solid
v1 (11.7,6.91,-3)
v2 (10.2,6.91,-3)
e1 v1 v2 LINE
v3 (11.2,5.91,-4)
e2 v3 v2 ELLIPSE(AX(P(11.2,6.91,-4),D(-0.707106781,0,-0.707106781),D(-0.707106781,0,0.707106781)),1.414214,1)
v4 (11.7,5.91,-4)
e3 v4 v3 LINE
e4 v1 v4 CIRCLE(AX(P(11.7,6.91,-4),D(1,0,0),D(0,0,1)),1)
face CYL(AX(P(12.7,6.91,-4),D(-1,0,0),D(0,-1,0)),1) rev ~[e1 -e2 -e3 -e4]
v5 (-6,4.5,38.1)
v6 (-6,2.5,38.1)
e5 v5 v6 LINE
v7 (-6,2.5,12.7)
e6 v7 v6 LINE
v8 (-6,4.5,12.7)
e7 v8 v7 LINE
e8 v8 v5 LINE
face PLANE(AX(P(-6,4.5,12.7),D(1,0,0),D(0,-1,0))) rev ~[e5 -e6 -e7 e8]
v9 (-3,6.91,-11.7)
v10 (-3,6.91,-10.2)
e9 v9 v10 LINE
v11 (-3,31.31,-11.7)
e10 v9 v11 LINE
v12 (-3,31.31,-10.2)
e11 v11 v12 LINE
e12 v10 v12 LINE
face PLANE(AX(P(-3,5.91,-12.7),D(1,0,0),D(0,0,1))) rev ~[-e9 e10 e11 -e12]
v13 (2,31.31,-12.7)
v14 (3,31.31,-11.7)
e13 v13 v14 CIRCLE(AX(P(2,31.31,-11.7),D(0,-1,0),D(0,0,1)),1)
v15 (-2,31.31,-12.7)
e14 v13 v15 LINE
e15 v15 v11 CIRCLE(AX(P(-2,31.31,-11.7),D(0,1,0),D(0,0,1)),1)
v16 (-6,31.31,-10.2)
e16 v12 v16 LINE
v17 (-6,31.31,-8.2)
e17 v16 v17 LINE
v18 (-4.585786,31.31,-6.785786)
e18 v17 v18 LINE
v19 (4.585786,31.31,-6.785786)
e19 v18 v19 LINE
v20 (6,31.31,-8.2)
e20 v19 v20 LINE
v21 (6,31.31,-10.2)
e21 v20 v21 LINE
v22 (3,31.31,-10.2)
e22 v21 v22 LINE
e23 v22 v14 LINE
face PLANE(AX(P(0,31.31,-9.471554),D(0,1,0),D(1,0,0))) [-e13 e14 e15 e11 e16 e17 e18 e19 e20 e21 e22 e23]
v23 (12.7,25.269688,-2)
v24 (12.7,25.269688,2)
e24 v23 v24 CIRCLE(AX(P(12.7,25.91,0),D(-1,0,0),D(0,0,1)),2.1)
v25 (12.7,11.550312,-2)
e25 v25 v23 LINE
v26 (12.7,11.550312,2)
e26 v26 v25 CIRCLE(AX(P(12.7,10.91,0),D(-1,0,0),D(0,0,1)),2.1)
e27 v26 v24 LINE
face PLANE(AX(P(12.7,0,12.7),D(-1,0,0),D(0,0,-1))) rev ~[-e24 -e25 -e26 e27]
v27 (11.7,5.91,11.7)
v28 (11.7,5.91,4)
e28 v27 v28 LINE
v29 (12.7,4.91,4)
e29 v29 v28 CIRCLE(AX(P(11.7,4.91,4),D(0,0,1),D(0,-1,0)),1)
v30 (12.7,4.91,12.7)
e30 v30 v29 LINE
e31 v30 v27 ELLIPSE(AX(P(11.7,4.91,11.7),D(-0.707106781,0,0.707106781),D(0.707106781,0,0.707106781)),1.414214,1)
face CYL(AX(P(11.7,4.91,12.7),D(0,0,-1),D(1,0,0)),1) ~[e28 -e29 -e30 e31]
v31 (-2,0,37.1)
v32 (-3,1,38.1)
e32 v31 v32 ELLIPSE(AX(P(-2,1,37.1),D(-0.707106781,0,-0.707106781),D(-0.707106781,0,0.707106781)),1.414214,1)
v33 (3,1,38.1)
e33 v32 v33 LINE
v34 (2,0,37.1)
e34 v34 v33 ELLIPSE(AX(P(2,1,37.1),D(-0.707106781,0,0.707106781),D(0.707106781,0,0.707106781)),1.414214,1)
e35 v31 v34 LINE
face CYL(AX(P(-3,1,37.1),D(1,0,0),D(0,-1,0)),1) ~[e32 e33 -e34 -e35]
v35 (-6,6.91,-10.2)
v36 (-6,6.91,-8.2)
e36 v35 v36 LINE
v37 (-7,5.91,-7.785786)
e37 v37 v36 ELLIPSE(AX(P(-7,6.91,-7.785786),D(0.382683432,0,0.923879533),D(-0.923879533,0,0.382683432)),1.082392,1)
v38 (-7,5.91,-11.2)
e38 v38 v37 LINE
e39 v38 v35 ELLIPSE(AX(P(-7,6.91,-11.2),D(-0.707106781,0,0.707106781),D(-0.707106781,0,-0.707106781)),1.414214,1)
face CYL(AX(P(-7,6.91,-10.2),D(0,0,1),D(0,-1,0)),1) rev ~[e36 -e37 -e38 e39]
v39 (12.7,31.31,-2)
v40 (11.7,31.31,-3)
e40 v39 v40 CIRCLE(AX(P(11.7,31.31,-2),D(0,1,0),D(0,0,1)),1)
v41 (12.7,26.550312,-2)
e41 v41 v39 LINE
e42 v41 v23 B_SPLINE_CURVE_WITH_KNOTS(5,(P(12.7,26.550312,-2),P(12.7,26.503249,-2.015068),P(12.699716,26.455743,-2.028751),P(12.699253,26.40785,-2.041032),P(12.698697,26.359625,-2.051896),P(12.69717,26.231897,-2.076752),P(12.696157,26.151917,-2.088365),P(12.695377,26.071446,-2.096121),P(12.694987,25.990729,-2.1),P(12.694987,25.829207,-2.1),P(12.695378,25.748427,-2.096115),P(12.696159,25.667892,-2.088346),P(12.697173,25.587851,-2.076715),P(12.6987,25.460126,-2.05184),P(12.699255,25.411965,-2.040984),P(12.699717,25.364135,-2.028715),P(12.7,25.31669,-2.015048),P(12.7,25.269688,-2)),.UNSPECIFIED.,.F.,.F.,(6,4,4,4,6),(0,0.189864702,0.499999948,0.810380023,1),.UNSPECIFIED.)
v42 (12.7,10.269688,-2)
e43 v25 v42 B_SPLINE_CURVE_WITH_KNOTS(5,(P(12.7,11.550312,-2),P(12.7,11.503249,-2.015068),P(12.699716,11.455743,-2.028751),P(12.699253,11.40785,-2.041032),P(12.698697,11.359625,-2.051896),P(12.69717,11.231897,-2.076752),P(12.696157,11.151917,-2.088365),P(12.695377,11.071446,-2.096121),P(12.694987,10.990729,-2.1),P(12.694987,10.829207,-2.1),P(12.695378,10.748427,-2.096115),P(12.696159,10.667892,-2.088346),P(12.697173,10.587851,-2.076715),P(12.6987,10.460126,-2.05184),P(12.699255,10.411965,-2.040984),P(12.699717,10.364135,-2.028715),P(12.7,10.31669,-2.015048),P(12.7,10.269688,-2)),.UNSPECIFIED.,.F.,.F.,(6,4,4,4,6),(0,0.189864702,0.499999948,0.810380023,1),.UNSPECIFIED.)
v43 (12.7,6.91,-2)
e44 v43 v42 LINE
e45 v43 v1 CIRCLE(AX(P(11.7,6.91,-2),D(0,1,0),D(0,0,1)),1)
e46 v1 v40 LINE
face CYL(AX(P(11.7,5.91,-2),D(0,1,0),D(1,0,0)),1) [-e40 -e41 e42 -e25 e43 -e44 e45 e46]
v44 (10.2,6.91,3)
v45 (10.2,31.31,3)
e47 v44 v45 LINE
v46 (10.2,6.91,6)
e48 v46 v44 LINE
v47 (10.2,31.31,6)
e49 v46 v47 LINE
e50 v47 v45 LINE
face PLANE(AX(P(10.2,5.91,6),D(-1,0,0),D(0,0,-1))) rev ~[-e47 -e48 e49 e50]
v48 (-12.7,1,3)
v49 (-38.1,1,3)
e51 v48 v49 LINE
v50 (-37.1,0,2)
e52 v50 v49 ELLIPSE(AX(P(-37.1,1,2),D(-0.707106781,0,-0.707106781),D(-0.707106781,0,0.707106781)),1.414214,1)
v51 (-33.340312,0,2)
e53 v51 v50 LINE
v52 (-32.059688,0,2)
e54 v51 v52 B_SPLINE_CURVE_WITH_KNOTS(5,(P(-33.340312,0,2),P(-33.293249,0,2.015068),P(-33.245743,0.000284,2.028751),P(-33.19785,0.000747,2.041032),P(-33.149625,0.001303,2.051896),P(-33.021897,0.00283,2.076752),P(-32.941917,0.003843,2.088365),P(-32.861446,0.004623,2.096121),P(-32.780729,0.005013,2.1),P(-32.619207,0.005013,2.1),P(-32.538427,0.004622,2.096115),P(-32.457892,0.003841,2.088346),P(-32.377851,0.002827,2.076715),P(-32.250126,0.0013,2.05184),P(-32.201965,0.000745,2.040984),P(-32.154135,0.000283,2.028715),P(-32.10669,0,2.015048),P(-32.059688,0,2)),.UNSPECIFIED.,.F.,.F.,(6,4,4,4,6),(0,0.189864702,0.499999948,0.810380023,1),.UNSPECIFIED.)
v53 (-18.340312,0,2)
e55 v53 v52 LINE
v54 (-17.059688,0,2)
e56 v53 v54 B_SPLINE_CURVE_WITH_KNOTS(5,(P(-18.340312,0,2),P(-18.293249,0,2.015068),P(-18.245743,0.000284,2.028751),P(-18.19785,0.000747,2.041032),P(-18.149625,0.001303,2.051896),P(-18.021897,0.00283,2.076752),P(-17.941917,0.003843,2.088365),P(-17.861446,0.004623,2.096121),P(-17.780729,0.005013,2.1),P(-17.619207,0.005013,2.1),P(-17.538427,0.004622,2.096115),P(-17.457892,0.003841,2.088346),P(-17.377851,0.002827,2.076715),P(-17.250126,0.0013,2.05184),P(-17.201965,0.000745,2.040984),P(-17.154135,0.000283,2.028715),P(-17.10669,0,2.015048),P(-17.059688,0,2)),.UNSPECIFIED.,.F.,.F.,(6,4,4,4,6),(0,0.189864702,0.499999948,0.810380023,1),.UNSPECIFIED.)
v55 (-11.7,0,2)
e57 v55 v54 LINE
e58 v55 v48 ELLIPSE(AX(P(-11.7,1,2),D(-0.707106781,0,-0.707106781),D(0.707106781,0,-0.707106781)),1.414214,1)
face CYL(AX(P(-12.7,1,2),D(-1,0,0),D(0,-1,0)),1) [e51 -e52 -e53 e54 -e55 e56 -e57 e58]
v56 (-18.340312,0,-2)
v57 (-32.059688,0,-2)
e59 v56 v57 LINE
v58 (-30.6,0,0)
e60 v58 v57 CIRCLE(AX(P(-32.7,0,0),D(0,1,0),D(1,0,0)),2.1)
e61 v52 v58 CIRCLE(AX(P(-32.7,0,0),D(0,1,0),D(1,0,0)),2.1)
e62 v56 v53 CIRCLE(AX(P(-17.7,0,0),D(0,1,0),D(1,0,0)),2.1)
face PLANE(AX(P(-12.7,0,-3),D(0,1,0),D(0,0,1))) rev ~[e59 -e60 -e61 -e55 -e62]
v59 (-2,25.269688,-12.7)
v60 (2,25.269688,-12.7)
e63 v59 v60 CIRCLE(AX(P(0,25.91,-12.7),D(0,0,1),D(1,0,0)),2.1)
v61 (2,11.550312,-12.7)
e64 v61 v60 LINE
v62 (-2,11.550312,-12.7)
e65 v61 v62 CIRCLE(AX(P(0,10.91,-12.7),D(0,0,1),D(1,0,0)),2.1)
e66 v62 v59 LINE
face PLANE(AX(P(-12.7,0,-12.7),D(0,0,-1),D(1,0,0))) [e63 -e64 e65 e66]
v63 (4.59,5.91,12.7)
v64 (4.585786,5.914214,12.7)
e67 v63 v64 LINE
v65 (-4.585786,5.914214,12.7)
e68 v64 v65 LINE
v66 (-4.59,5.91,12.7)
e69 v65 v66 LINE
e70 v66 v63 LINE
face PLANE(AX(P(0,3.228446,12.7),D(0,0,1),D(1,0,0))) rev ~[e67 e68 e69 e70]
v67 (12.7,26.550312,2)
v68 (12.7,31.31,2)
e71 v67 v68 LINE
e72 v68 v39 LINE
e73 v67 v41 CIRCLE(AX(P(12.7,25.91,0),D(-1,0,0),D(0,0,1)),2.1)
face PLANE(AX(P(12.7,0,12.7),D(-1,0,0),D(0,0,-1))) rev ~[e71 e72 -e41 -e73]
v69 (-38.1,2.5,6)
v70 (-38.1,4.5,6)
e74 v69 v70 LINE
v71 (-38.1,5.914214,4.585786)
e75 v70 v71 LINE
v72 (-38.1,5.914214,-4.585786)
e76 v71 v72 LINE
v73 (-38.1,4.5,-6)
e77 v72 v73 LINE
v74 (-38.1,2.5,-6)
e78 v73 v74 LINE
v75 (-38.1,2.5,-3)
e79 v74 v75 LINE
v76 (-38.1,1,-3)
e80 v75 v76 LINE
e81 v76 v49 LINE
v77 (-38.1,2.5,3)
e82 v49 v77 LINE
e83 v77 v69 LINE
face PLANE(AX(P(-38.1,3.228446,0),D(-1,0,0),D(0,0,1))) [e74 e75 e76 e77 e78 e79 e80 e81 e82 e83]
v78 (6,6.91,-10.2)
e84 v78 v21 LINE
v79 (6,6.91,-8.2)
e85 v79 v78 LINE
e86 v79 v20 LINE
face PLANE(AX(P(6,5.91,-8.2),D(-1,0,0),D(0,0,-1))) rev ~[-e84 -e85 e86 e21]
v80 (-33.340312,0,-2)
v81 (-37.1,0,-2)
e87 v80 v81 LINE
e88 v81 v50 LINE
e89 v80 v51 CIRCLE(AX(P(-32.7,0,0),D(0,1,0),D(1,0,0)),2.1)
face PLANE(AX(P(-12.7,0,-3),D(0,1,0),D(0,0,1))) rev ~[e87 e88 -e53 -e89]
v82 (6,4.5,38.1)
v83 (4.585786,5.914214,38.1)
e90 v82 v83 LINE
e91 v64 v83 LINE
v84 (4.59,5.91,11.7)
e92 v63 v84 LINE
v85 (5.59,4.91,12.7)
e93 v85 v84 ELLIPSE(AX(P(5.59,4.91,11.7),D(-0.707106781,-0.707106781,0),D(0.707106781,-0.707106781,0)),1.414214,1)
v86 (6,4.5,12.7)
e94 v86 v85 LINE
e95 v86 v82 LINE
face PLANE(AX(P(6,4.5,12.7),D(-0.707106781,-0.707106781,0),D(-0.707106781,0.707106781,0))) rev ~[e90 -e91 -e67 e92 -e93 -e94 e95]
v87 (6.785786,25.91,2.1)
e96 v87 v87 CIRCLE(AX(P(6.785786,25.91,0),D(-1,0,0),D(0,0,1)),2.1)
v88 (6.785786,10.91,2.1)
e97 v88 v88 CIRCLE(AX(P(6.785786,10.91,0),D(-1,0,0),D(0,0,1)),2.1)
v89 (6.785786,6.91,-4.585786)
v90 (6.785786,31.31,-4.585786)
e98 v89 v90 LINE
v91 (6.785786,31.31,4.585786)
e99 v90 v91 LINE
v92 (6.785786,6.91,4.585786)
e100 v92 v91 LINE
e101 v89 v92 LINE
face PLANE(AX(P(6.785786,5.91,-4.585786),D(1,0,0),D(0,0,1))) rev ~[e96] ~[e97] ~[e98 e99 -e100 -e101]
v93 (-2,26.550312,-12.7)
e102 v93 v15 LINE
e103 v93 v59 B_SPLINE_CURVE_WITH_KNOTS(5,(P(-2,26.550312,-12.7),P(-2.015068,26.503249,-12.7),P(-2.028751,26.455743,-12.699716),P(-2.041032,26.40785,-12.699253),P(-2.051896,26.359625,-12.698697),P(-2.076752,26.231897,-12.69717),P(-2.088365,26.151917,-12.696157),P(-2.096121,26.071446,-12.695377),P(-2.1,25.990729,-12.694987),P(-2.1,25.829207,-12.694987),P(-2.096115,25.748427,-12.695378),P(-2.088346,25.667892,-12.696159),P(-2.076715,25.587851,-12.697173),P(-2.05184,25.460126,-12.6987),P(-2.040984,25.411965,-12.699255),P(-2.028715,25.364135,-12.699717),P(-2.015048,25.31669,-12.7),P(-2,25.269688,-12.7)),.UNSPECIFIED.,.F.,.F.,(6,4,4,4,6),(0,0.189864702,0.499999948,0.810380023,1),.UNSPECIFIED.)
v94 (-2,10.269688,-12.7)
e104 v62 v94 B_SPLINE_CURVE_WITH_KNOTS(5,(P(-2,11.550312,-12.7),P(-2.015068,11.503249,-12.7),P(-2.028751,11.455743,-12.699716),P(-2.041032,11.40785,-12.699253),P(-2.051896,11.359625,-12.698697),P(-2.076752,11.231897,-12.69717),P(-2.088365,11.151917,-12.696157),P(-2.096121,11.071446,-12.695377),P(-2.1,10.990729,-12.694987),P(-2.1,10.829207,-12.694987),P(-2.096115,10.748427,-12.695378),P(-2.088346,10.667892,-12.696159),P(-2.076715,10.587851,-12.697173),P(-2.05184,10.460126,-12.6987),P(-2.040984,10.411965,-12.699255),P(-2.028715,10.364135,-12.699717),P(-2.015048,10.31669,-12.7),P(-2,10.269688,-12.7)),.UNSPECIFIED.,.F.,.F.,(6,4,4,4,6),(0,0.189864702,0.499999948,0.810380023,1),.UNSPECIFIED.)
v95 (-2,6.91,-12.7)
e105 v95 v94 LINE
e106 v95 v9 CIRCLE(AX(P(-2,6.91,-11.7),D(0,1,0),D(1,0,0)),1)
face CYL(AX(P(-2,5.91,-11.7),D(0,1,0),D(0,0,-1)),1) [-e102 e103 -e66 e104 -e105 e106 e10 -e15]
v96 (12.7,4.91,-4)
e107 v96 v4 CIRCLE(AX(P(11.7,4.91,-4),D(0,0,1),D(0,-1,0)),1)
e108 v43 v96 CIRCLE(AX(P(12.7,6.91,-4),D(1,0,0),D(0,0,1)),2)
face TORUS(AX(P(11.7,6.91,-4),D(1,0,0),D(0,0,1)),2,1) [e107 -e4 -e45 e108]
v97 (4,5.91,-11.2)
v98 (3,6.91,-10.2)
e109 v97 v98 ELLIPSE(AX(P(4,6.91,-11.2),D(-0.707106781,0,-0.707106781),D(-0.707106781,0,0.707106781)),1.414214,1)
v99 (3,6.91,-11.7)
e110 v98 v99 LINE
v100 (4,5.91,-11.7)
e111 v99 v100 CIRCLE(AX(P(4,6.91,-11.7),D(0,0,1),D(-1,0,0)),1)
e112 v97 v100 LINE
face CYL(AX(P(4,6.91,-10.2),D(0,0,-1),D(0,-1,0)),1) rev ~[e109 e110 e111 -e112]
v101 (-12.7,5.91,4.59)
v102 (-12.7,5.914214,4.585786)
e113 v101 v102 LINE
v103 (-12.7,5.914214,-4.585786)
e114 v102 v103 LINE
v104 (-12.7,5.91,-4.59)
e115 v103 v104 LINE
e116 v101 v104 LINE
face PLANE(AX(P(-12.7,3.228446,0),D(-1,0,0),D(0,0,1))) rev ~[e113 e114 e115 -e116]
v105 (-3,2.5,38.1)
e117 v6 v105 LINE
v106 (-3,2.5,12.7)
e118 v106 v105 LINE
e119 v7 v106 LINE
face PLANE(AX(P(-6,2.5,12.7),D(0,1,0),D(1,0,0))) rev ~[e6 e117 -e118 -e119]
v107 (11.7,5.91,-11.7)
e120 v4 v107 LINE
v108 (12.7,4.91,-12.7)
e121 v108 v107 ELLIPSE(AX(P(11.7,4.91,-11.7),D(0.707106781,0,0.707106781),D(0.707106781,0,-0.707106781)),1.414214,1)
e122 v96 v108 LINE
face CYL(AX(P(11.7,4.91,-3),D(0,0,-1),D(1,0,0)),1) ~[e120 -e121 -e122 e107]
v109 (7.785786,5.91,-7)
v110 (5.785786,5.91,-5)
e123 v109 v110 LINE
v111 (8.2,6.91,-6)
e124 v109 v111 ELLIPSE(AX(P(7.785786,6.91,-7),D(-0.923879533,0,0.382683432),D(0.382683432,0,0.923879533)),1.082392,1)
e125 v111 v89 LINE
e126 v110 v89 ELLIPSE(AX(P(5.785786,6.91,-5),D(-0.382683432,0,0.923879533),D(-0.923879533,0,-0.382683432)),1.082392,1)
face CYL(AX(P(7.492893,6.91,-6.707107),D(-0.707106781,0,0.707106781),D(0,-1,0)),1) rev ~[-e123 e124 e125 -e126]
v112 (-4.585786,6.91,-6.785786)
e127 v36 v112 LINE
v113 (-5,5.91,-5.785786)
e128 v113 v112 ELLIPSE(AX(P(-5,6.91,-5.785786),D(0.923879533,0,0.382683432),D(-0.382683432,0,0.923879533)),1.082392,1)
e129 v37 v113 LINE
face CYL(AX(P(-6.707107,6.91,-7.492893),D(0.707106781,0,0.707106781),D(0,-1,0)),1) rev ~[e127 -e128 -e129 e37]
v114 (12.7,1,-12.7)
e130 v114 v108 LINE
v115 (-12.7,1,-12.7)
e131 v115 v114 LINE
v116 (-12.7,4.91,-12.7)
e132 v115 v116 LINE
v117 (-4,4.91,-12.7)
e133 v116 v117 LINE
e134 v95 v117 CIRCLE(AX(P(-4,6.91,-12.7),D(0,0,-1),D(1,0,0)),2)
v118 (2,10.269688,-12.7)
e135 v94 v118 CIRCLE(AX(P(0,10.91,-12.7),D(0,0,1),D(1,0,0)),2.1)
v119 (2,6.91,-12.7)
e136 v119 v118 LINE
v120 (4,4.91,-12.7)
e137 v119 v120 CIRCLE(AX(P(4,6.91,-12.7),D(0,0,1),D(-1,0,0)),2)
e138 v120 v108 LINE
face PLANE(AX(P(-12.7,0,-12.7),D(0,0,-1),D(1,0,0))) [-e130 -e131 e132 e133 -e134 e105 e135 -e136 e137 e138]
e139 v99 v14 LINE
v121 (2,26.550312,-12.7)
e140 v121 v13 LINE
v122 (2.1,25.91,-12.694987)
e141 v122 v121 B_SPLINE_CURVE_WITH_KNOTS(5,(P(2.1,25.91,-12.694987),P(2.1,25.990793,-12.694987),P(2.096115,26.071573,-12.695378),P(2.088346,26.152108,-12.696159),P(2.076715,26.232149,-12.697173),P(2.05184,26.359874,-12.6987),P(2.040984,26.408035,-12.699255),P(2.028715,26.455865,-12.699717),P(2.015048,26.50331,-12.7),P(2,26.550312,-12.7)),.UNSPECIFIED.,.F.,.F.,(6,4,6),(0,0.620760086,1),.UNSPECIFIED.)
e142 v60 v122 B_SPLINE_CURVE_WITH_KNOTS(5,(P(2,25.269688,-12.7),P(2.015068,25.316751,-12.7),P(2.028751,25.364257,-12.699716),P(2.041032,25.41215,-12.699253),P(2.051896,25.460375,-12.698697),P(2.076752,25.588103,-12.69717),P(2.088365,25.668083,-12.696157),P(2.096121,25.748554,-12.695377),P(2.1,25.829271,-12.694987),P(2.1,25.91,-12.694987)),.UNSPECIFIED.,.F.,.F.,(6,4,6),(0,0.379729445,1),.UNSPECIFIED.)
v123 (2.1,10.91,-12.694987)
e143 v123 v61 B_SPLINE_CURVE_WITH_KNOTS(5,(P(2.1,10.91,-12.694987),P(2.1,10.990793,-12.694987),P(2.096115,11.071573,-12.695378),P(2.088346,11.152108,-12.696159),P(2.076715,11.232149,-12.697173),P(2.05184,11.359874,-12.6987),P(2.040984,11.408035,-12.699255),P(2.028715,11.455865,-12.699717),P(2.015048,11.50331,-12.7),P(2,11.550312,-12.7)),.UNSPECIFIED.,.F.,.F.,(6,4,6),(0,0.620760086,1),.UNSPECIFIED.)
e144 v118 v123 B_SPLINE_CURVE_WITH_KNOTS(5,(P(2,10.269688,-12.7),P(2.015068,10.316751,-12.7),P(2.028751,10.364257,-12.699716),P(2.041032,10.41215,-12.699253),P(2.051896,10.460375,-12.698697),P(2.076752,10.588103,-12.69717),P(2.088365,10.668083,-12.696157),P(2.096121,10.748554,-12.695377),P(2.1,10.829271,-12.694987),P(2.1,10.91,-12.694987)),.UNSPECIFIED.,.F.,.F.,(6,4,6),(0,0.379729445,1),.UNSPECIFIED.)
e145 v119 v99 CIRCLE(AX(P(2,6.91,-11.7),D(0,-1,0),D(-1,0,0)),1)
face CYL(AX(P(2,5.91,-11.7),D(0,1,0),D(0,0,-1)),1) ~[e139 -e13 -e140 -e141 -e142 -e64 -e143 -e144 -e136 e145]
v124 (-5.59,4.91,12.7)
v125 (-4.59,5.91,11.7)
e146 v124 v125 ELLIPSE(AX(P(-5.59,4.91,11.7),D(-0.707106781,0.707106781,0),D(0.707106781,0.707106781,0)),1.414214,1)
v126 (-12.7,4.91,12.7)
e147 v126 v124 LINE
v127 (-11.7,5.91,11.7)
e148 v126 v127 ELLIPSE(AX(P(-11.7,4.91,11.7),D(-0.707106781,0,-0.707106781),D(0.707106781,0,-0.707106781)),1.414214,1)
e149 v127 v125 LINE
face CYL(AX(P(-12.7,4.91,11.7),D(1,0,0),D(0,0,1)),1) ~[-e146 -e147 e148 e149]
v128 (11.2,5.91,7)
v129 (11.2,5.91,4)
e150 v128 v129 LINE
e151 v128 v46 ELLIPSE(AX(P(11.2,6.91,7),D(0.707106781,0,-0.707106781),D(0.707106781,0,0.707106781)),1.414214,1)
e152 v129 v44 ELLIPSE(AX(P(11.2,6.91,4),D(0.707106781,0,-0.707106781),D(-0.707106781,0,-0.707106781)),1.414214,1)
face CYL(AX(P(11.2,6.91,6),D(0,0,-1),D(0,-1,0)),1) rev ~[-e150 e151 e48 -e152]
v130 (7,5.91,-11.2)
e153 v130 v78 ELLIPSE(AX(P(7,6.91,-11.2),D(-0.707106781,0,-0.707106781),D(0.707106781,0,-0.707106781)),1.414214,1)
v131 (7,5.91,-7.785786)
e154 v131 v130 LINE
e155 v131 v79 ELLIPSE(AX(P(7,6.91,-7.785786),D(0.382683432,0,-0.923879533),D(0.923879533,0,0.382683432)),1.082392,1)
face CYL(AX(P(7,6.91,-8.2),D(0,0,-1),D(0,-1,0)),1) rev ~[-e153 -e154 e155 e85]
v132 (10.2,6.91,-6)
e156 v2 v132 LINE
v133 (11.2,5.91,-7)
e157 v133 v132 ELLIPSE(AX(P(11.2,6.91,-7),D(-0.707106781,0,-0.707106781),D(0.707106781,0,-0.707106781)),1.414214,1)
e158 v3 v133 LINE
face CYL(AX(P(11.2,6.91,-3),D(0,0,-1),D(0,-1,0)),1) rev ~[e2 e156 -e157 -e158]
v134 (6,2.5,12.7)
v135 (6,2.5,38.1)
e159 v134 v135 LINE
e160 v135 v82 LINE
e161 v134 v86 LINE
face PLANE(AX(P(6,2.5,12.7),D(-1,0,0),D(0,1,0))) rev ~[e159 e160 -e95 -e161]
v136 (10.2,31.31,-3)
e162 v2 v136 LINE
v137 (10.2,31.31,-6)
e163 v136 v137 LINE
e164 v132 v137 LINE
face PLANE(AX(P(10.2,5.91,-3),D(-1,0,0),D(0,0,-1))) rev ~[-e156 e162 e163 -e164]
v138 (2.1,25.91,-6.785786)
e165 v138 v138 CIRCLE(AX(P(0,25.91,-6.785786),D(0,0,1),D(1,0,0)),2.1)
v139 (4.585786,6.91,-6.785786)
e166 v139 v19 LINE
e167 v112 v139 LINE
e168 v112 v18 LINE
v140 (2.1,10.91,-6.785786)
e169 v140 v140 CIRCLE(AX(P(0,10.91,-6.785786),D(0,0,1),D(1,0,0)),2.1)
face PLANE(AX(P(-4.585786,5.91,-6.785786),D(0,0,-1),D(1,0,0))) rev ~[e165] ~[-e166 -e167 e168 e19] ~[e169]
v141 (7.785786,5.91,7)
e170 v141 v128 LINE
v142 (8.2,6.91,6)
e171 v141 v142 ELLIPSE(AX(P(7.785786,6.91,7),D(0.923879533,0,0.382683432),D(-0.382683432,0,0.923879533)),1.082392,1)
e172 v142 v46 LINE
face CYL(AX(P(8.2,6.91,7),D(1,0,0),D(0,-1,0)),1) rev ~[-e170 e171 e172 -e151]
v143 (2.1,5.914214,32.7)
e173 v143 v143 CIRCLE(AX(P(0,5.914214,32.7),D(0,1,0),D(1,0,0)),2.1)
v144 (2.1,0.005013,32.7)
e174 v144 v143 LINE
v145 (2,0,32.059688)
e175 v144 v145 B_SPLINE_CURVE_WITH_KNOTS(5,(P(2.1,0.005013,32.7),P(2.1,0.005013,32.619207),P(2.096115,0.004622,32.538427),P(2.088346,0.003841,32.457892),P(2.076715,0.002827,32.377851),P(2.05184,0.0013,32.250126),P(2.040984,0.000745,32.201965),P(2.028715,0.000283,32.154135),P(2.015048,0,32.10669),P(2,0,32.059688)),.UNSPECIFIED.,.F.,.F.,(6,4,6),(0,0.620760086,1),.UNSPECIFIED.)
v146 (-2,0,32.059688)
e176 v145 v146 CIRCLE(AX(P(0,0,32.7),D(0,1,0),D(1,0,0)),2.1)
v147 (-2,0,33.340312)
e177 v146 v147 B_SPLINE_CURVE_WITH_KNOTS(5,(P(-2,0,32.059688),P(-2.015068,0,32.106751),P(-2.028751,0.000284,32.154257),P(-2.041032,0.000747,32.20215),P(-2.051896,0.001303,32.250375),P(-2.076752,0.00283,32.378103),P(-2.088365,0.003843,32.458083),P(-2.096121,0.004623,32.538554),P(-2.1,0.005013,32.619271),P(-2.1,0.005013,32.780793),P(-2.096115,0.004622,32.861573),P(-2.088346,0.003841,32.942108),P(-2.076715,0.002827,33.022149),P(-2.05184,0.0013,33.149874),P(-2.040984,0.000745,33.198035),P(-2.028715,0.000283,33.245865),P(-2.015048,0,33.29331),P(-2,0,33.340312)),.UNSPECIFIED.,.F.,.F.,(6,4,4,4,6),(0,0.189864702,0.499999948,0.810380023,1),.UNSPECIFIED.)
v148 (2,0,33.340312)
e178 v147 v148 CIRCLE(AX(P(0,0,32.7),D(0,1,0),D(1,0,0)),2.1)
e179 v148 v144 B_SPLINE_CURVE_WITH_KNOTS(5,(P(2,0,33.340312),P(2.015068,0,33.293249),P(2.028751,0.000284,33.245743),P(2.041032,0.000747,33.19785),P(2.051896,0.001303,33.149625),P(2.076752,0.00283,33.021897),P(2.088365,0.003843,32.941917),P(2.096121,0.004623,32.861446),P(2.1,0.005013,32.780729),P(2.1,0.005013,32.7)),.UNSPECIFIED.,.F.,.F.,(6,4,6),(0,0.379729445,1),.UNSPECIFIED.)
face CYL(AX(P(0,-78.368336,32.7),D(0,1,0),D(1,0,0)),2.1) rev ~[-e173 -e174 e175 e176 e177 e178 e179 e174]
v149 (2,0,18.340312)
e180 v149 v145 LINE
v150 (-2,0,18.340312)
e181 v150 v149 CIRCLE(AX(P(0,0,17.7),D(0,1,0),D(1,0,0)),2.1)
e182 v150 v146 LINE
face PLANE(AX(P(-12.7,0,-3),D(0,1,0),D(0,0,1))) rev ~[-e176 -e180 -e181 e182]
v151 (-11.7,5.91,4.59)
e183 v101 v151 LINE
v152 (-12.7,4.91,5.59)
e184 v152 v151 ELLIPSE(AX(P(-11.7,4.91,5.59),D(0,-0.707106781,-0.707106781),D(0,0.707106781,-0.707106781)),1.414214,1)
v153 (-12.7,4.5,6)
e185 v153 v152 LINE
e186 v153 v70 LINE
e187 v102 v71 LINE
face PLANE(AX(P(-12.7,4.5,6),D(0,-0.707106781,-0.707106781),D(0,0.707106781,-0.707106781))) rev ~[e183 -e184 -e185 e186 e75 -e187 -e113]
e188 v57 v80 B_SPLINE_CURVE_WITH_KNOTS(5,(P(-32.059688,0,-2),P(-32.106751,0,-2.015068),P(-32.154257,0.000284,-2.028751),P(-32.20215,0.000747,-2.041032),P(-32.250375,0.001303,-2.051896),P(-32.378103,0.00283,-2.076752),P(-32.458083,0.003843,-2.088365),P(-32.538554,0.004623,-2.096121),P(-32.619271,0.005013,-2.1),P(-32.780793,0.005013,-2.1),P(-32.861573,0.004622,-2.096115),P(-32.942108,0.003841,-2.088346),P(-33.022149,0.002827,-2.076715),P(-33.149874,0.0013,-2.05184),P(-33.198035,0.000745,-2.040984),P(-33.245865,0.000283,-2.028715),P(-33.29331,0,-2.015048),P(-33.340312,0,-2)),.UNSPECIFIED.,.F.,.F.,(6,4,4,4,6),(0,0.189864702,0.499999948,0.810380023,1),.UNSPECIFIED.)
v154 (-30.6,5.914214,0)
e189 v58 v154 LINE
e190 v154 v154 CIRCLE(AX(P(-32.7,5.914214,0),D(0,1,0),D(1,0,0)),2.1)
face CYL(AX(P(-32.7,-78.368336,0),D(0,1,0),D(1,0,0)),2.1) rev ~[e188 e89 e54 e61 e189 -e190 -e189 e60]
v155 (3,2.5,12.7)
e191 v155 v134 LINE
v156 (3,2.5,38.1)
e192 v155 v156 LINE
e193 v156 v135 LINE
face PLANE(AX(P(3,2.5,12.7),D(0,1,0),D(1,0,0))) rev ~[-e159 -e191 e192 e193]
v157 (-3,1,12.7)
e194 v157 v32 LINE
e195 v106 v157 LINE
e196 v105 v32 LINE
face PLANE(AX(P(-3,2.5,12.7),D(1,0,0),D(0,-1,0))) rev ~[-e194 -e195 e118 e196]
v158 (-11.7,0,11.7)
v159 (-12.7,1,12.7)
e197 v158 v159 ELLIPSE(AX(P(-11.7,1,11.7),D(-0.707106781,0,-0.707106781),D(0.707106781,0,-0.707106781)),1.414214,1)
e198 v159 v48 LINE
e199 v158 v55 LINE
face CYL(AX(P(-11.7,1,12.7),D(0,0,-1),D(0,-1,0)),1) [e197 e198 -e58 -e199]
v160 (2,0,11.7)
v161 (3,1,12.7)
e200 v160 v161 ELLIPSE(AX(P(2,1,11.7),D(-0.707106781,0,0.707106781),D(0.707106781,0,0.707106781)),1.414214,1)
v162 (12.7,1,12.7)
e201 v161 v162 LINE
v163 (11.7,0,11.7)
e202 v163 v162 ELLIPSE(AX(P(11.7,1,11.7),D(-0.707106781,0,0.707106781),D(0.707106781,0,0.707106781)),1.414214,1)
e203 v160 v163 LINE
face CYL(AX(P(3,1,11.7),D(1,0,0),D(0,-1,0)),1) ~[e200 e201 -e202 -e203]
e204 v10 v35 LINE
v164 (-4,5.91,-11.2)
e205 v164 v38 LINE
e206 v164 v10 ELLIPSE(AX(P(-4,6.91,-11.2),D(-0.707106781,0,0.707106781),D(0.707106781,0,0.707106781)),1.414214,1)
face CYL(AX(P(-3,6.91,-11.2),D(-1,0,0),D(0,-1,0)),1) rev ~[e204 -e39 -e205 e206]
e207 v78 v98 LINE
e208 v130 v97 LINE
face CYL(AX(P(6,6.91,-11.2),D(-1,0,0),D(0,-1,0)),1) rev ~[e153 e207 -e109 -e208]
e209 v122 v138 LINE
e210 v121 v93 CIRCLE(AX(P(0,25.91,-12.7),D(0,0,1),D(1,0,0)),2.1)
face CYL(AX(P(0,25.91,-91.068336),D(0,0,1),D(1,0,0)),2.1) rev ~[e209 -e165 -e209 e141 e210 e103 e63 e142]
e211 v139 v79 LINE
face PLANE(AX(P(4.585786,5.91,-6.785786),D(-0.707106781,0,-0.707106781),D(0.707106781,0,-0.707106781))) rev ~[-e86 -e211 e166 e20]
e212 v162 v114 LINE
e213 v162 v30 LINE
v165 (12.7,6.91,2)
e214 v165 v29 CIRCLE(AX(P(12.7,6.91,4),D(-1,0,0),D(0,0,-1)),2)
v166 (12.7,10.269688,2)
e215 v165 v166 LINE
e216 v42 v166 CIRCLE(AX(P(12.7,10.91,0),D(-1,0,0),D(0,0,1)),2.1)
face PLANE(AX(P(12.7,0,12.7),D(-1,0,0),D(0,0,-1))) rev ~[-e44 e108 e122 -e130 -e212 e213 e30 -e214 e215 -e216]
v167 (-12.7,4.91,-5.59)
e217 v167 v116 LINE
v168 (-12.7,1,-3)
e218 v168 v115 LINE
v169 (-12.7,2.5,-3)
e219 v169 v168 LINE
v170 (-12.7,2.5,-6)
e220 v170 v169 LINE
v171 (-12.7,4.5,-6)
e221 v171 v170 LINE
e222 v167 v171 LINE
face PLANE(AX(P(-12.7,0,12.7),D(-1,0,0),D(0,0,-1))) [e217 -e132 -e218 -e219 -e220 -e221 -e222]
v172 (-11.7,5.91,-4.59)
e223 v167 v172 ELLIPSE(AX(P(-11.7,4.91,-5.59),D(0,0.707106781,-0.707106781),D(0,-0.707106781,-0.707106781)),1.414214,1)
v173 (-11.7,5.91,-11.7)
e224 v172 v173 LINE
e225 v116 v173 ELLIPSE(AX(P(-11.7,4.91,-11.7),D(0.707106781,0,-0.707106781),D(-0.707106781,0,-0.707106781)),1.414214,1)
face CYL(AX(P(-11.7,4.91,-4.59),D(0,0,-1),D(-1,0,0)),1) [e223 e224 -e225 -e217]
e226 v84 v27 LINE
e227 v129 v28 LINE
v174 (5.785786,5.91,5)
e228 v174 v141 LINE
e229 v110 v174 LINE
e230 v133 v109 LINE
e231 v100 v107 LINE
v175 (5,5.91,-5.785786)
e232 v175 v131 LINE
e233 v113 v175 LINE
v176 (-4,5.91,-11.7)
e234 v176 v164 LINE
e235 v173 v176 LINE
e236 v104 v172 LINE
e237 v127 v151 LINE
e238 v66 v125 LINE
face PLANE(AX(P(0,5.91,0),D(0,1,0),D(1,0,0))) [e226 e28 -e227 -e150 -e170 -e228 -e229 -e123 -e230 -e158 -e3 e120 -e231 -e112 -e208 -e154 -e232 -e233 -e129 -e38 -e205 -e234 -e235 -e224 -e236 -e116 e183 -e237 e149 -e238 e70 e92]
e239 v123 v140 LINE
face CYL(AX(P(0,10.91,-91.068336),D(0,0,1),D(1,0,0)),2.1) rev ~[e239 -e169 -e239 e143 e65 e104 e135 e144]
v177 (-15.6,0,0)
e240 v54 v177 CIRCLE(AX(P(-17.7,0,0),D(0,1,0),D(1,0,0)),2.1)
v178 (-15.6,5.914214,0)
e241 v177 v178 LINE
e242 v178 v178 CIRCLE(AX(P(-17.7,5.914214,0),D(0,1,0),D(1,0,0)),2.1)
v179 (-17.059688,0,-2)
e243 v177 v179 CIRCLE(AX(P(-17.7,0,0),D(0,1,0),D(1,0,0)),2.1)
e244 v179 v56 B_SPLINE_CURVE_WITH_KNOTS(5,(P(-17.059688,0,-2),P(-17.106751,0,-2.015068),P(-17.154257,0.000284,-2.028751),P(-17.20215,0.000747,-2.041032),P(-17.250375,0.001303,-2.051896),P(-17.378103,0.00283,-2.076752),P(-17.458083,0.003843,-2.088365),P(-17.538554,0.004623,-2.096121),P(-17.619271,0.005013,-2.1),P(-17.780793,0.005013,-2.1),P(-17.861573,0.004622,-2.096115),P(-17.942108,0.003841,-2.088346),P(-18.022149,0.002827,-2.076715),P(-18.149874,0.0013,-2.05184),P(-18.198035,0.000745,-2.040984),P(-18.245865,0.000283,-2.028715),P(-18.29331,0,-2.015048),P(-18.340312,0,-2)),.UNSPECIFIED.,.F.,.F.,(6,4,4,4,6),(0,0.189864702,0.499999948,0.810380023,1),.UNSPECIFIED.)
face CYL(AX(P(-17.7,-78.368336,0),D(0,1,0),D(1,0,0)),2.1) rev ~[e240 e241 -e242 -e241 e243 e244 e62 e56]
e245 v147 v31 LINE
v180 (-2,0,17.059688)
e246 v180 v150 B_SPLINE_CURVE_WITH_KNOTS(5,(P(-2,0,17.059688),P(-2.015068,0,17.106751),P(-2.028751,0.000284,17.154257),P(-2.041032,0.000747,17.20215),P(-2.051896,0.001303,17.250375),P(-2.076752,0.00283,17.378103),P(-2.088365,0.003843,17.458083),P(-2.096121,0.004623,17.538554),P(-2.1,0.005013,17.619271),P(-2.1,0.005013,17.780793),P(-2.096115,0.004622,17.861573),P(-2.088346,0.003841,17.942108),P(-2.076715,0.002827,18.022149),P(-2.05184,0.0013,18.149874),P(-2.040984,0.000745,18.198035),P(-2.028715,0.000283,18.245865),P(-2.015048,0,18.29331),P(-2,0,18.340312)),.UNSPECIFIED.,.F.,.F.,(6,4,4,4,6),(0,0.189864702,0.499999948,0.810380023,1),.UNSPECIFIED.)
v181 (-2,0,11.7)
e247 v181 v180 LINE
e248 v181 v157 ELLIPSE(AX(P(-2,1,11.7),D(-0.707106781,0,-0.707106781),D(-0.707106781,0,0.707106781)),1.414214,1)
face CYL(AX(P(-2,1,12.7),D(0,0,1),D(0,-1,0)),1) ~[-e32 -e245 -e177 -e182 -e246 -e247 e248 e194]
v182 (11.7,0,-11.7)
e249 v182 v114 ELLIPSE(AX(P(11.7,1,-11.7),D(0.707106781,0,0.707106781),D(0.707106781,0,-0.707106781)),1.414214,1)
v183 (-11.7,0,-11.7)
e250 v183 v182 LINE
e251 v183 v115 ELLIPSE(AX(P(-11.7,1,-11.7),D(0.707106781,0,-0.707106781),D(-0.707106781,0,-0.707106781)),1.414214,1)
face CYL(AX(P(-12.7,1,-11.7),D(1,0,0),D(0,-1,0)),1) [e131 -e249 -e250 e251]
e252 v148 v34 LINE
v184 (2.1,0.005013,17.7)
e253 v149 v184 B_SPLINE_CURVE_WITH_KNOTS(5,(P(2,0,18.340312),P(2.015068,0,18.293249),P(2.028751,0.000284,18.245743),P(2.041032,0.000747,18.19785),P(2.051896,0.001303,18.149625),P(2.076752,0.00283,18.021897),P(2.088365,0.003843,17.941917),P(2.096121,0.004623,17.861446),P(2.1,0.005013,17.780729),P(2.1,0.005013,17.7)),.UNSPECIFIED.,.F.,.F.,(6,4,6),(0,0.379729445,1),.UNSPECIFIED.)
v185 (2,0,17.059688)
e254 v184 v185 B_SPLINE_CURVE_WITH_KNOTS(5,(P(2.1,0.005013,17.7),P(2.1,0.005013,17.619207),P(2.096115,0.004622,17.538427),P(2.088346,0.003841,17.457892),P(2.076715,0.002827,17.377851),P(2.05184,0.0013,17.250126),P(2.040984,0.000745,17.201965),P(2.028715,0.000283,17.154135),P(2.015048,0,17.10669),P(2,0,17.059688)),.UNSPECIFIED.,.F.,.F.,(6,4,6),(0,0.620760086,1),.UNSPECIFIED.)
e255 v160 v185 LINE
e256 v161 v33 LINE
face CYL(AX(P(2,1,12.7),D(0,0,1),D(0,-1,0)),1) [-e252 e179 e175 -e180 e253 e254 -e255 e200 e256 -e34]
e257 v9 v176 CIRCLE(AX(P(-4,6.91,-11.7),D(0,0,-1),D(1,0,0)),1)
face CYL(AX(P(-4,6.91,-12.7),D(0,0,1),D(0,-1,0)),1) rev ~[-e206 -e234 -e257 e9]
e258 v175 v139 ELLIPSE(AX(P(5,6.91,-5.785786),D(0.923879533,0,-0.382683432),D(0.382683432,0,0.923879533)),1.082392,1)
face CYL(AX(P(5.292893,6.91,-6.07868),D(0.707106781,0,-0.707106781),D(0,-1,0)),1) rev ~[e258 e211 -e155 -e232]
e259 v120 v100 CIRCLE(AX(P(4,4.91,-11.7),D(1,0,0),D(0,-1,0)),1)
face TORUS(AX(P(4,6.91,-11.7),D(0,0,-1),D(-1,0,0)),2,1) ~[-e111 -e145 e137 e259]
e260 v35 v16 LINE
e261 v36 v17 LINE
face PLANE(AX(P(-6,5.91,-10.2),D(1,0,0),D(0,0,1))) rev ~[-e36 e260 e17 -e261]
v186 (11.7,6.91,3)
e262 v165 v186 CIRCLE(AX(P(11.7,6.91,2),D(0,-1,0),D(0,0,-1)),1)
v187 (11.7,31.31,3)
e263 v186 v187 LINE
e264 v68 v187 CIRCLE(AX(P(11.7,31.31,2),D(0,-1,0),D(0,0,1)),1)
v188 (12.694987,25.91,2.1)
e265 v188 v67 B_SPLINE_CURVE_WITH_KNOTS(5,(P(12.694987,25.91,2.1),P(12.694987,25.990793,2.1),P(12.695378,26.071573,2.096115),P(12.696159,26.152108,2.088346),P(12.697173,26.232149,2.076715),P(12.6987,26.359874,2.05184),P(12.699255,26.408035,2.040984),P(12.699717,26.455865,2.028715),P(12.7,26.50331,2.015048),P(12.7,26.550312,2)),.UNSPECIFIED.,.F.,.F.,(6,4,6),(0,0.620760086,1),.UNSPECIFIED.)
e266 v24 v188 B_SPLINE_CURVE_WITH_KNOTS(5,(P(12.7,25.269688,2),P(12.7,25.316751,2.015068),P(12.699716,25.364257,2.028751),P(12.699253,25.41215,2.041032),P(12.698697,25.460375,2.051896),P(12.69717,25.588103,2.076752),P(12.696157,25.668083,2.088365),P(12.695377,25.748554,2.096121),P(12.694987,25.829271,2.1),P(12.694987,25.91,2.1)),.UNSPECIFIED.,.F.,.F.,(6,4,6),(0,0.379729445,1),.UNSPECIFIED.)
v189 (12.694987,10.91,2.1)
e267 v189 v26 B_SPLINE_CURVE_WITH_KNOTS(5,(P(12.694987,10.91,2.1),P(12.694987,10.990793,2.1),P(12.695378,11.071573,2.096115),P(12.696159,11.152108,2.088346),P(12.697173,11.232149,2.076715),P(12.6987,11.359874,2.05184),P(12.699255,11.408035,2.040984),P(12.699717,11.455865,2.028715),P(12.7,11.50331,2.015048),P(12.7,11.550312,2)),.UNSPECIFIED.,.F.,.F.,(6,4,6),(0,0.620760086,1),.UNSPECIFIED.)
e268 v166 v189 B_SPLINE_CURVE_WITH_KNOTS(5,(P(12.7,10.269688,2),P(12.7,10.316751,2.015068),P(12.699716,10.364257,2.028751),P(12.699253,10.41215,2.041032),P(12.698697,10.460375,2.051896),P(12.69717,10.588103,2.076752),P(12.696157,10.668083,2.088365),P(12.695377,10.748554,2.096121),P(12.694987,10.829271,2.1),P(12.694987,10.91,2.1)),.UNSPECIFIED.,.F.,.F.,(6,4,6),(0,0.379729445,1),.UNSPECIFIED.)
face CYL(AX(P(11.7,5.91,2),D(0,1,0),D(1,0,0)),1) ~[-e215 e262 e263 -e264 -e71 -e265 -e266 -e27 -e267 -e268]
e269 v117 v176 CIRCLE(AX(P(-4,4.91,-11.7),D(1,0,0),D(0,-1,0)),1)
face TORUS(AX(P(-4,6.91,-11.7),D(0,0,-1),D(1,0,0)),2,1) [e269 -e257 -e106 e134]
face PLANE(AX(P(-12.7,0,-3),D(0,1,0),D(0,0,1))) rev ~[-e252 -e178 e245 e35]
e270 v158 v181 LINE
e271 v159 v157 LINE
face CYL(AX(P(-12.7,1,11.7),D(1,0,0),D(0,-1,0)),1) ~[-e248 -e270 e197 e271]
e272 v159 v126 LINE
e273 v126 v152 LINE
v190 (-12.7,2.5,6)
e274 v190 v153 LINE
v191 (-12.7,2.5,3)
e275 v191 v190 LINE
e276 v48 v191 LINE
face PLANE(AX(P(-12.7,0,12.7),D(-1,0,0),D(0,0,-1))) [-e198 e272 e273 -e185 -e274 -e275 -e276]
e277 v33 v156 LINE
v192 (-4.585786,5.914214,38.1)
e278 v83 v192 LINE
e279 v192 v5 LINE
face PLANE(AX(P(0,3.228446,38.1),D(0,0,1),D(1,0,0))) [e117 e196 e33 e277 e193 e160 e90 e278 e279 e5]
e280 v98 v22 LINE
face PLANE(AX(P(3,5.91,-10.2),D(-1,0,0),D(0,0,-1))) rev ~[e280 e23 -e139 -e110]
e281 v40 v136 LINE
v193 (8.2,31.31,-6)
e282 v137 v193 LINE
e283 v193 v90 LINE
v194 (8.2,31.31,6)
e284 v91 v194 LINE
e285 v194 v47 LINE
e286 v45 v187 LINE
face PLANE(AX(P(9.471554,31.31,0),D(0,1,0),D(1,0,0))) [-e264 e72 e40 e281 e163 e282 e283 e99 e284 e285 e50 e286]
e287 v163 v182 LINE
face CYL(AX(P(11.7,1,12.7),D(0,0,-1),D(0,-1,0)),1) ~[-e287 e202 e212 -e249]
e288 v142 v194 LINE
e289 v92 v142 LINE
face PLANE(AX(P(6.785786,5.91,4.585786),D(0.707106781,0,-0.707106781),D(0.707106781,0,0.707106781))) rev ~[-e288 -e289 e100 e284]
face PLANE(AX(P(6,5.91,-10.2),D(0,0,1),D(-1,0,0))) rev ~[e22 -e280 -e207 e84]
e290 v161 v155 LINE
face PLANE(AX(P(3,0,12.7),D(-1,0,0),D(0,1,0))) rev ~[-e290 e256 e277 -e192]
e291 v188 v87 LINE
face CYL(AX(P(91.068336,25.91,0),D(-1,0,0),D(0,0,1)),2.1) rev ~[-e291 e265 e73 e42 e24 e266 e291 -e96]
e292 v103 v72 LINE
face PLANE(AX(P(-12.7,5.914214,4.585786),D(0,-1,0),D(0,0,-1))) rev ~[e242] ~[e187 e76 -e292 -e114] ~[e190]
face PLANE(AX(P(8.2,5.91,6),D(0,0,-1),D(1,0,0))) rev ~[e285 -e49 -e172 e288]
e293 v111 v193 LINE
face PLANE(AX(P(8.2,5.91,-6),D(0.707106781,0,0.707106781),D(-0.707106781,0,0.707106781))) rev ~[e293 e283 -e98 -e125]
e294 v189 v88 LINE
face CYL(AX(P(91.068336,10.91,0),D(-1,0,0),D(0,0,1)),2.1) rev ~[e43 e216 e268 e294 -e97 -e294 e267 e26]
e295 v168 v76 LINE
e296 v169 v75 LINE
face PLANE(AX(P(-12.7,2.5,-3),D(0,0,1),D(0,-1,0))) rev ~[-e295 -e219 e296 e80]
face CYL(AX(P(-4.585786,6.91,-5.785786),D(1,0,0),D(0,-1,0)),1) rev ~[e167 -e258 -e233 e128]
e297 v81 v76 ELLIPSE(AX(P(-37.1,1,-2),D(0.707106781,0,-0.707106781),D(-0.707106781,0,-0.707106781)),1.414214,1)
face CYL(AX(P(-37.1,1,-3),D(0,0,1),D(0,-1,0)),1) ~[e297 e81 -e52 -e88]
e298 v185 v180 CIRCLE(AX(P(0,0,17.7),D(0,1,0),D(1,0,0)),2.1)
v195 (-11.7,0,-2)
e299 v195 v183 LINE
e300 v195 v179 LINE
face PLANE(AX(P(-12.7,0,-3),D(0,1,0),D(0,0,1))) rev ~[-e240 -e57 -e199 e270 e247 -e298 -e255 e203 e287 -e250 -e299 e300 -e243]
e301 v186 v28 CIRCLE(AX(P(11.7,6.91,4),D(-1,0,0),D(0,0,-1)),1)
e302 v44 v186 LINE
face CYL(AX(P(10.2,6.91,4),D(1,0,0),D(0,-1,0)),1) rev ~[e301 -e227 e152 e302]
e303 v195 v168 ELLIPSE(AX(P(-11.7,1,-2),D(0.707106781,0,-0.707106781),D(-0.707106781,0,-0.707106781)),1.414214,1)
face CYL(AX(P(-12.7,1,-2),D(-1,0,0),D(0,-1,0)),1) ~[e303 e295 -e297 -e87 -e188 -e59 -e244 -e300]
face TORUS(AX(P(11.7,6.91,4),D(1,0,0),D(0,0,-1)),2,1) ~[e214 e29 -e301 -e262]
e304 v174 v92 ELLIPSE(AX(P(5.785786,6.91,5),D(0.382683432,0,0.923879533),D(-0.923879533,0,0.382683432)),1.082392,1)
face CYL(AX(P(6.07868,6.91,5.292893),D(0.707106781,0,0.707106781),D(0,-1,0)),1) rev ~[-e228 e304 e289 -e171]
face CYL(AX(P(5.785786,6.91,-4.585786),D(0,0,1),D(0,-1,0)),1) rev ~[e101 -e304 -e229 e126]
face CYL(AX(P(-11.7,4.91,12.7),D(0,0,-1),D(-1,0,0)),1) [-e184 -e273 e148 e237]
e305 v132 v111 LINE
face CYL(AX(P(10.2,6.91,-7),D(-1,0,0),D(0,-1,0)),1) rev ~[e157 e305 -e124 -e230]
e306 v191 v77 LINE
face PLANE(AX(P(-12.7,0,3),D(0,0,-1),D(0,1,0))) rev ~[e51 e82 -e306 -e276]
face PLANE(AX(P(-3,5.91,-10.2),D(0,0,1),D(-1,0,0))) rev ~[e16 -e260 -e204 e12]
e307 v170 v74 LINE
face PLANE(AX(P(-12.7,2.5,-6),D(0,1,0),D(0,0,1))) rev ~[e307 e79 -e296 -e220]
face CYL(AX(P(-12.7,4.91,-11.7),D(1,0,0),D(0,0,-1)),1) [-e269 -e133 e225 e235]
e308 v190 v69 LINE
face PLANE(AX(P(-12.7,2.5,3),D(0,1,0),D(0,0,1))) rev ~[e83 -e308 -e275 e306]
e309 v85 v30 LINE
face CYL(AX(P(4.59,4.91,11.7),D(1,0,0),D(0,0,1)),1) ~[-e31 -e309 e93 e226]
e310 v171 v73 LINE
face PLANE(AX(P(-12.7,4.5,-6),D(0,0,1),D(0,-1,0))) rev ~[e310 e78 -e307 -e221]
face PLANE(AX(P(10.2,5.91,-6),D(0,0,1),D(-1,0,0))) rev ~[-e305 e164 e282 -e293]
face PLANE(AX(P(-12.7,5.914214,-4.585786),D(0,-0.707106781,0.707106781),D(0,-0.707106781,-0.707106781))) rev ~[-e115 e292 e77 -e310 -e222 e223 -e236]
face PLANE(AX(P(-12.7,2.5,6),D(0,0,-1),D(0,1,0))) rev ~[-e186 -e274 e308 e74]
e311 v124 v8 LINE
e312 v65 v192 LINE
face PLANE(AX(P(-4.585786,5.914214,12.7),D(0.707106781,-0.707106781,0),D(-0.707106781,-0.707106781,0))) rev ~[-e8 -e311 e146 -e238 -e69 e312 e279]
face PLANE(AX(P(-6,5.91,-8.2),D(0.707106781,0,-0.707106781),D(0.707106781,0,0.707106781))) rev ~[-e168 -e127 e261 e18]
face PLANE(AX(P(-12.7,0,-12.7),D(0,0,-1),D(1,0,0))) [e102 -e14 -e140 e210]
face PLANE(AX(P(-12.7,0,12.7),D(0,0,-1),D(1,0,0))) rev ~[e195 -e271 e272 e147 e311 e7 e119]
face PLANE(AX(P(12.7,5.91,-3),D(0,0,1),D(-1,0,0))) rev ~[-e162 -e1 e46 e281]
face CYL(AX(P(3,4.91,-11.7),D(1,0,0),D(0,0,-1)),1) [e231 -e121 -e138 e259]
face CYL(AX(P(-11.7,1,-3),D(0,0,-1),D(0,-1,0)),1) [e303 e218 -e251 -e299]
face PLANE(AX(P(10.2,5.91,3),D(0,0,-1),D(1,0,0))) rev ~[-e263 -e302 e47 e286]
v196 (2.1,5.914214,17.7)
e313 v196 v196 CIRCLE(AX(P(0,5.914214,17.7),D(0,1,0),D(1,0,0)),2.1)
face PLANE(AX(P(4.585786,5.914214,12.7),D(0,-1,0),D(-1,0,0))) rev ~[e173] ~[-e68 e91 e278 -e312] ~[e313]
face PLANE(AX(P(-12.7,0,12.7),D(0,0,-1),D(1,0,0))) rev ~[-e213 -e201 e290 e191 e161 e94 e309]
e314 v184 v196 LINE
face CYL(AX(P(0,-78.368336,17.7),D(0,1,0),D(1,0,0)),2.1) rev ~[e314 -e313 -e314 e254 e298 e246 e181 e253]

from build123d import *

# Parameters (mm, degrees)
SKETCH1_W             = 25.4
SKETCH1_H             = 25.4
BOSS_EXTRUDE1_DEPTH   = 5.91
BOSS_EXTRUDE2_DEPTH   = 25.4
BOSS_EXTRUDE3_DEPTH   = 25.4
BOSS_EXTRUDE4_DEPTH   = 25.4
FILLET2_R             = 1
M5X0_8_TAPPED_HOLE2_D = 4.2
M5X0_8_TAPPED_HOLE3_D = 4.2
M5X0_8_TAPPED_HOLE4_D = 4.2


with BuildPart() as part:
    # Sketch1 → Boss-Extrude1 (new body)
    with BuildSketch(Plane(origin=(0, 0, 0), x_dir=(1, 0, 0), z_dir=(0, 1, 0))):
        Rectangle(SKETCH1_W, SKETCH1_H)
    extrude(amount=BOSS_EXTRUDE1_DEPTH)

    # Sketch2 → Boss-Extrude2 (add)
    with BuildSketch(Plane.XY.offset(12.7)):
        Polygon((-3, 0), (3, 0), (3, 2.5), (6, 2.5), (6, 4.5), (4.585786438, 5.914213562), (-4.585786438, 5.914213562), (-6, 4.5), (-6, 2.5), (-3, 2.5), align=None)
    extrude(amount=BOSS_EXTRUDE2_DEPTH)

    # Sketch3 → Boss-Extrude3 (add)
    with BuildSketch(Plane.ZY.offset(12.7)):
        Polygon((-3, 0), (3, 0), (3, 2.5), (6, 2.5), (6, 4.5), (4.585786438, 5.914213562), (-4.585786438, 5.914213562), (-6, 4.5), (-6, 2.5), (-3, 2.5), align=None)
    extrude(amount=BOSS_EXTRUDE3_DEPTH)

    # Sketch5 → Boss-Extrude4 (add)
    with BuildSketch(Plane(origin=(0, 5.91, 0), x_dir=(1, 0, 0), z_dir=(0, 1, 0))):
        Polygon((3, 12.7), (-3, 12.7), (-3, 10.2), (-6, 10.2), (-6, 8.2), (-4.585786438, 6.785786438), (4.585786438, 6.785786438), (6, 8.2), (6, 10.2), (3, 10.2), align=None)
        Polygon((12.7, -3), (12.7, 3), (10.2, 3), (10.2, 6), (8.2, 6), (6.785786438, 4.585786438), (6.785786438, -4.585786438), (8.2, -6), (10.2, -6), (10.2, -3), align=None)
    extrude(amount=BOSS_EXTRUDE4_DEPTH)

    # Fillet2
    fillet2_edges = [part.edges().sort_by_distance(p)[0] for p in [
        (7.492893219, 5.91, -5.292893219),
        (6.785786438, 5.91, 0),
        (7.492893219, 5.91, 5.292893219),
        (9.2, 5.91, 6),
        (10.2, 5.91, 4.5),
        (11.45, 5.91, 3),
        (12.7, 18.61, 3),
        (-12.7, 5.91, -8.645),
        (7.85, 0, 12.7),
        (8.645, 5.91, 12.7),
        (-8.645, 5.91, 12.7),
        (3, 0, 25.4),
        (-3, 0, 25.4),
        (0, 0, 38.1),
        (-12.7, 0, 7.85),
        (-12.7, 5.91, 8.645),
        (-25.4, 0, 3),
        (12.7, 5.91, 7.85),
        (-7.85, 0, 12.7),
        (-12.7, 0, -7.85),
        (-25.4, 0, -3),
        (-38.1, 0, 0),
        (0, 0, -12.7),
        (12.7, 0, 0),
        (12.7, 5.91, -7.85),
        (-7.85, 5.91, -12.7),
        (-3, 5.91, -11.45),
        (-3, 18.61, -12.7),
        (-4.5, 5.91, -10.2),
        (-6, 5.91, -9.2),
        (-5.292893219, 5.91, -7.492893219),
        (0, 5.91, -6.785786438),
        (5.292893219, 5.91, -7.492893219),
        (6, 5.91, -9.2),
        (4.5, 5.91, -10.2),
        (3, 5.91, -11.45),
        (3, 18.61, -12.7),
        (7.85, 5.91, -12.7),
        (11.45, 5.91, -3),
        (12.7, 18.61, -3),
        (10.2, 5.91, -4.5),
        (9.2, 5.91, -6),
    ]]
    fillet(fillet2_edges, radius=FILLET2_R)

    # M5x0.8 Tapped Hole2 (through all)
    with Locations(Plane(origin=(0, 0, 0), x_dir=(-1, 0, 0), z_dir=(0, -1, 0))):
        with Locations((0, -17.7), (0, -32.7), (17.7, 0), (32.7, 0)):
            Hole(M5X0_8_TAPPED_HOLE2_D / 2)

    # M5x0.8 Tapped Hole3 (through all)
    with Locations(Plane(origin=(12.7, 0, 0), x_dir=(0, 0, -1), z_dir=(1, 0, 0))):
        with Locations((0, 10.91), (0, 25.91)):
            Hole(M5X0_8_TAPPED_HOLE3_D / 2)

    # M5x0.8 Tapped Hole4 (through all)
    with Locations(Plane(origin=(0, 0, -12.7), x_dir=(-1, 0, 0), z_dir=(0, 0, -1))):
        with Locations((0, 25.91), (0, 10.91)):
            Hole(M5X0_8_TAPPED_HOLE4_D / 2)


solid = part.part
